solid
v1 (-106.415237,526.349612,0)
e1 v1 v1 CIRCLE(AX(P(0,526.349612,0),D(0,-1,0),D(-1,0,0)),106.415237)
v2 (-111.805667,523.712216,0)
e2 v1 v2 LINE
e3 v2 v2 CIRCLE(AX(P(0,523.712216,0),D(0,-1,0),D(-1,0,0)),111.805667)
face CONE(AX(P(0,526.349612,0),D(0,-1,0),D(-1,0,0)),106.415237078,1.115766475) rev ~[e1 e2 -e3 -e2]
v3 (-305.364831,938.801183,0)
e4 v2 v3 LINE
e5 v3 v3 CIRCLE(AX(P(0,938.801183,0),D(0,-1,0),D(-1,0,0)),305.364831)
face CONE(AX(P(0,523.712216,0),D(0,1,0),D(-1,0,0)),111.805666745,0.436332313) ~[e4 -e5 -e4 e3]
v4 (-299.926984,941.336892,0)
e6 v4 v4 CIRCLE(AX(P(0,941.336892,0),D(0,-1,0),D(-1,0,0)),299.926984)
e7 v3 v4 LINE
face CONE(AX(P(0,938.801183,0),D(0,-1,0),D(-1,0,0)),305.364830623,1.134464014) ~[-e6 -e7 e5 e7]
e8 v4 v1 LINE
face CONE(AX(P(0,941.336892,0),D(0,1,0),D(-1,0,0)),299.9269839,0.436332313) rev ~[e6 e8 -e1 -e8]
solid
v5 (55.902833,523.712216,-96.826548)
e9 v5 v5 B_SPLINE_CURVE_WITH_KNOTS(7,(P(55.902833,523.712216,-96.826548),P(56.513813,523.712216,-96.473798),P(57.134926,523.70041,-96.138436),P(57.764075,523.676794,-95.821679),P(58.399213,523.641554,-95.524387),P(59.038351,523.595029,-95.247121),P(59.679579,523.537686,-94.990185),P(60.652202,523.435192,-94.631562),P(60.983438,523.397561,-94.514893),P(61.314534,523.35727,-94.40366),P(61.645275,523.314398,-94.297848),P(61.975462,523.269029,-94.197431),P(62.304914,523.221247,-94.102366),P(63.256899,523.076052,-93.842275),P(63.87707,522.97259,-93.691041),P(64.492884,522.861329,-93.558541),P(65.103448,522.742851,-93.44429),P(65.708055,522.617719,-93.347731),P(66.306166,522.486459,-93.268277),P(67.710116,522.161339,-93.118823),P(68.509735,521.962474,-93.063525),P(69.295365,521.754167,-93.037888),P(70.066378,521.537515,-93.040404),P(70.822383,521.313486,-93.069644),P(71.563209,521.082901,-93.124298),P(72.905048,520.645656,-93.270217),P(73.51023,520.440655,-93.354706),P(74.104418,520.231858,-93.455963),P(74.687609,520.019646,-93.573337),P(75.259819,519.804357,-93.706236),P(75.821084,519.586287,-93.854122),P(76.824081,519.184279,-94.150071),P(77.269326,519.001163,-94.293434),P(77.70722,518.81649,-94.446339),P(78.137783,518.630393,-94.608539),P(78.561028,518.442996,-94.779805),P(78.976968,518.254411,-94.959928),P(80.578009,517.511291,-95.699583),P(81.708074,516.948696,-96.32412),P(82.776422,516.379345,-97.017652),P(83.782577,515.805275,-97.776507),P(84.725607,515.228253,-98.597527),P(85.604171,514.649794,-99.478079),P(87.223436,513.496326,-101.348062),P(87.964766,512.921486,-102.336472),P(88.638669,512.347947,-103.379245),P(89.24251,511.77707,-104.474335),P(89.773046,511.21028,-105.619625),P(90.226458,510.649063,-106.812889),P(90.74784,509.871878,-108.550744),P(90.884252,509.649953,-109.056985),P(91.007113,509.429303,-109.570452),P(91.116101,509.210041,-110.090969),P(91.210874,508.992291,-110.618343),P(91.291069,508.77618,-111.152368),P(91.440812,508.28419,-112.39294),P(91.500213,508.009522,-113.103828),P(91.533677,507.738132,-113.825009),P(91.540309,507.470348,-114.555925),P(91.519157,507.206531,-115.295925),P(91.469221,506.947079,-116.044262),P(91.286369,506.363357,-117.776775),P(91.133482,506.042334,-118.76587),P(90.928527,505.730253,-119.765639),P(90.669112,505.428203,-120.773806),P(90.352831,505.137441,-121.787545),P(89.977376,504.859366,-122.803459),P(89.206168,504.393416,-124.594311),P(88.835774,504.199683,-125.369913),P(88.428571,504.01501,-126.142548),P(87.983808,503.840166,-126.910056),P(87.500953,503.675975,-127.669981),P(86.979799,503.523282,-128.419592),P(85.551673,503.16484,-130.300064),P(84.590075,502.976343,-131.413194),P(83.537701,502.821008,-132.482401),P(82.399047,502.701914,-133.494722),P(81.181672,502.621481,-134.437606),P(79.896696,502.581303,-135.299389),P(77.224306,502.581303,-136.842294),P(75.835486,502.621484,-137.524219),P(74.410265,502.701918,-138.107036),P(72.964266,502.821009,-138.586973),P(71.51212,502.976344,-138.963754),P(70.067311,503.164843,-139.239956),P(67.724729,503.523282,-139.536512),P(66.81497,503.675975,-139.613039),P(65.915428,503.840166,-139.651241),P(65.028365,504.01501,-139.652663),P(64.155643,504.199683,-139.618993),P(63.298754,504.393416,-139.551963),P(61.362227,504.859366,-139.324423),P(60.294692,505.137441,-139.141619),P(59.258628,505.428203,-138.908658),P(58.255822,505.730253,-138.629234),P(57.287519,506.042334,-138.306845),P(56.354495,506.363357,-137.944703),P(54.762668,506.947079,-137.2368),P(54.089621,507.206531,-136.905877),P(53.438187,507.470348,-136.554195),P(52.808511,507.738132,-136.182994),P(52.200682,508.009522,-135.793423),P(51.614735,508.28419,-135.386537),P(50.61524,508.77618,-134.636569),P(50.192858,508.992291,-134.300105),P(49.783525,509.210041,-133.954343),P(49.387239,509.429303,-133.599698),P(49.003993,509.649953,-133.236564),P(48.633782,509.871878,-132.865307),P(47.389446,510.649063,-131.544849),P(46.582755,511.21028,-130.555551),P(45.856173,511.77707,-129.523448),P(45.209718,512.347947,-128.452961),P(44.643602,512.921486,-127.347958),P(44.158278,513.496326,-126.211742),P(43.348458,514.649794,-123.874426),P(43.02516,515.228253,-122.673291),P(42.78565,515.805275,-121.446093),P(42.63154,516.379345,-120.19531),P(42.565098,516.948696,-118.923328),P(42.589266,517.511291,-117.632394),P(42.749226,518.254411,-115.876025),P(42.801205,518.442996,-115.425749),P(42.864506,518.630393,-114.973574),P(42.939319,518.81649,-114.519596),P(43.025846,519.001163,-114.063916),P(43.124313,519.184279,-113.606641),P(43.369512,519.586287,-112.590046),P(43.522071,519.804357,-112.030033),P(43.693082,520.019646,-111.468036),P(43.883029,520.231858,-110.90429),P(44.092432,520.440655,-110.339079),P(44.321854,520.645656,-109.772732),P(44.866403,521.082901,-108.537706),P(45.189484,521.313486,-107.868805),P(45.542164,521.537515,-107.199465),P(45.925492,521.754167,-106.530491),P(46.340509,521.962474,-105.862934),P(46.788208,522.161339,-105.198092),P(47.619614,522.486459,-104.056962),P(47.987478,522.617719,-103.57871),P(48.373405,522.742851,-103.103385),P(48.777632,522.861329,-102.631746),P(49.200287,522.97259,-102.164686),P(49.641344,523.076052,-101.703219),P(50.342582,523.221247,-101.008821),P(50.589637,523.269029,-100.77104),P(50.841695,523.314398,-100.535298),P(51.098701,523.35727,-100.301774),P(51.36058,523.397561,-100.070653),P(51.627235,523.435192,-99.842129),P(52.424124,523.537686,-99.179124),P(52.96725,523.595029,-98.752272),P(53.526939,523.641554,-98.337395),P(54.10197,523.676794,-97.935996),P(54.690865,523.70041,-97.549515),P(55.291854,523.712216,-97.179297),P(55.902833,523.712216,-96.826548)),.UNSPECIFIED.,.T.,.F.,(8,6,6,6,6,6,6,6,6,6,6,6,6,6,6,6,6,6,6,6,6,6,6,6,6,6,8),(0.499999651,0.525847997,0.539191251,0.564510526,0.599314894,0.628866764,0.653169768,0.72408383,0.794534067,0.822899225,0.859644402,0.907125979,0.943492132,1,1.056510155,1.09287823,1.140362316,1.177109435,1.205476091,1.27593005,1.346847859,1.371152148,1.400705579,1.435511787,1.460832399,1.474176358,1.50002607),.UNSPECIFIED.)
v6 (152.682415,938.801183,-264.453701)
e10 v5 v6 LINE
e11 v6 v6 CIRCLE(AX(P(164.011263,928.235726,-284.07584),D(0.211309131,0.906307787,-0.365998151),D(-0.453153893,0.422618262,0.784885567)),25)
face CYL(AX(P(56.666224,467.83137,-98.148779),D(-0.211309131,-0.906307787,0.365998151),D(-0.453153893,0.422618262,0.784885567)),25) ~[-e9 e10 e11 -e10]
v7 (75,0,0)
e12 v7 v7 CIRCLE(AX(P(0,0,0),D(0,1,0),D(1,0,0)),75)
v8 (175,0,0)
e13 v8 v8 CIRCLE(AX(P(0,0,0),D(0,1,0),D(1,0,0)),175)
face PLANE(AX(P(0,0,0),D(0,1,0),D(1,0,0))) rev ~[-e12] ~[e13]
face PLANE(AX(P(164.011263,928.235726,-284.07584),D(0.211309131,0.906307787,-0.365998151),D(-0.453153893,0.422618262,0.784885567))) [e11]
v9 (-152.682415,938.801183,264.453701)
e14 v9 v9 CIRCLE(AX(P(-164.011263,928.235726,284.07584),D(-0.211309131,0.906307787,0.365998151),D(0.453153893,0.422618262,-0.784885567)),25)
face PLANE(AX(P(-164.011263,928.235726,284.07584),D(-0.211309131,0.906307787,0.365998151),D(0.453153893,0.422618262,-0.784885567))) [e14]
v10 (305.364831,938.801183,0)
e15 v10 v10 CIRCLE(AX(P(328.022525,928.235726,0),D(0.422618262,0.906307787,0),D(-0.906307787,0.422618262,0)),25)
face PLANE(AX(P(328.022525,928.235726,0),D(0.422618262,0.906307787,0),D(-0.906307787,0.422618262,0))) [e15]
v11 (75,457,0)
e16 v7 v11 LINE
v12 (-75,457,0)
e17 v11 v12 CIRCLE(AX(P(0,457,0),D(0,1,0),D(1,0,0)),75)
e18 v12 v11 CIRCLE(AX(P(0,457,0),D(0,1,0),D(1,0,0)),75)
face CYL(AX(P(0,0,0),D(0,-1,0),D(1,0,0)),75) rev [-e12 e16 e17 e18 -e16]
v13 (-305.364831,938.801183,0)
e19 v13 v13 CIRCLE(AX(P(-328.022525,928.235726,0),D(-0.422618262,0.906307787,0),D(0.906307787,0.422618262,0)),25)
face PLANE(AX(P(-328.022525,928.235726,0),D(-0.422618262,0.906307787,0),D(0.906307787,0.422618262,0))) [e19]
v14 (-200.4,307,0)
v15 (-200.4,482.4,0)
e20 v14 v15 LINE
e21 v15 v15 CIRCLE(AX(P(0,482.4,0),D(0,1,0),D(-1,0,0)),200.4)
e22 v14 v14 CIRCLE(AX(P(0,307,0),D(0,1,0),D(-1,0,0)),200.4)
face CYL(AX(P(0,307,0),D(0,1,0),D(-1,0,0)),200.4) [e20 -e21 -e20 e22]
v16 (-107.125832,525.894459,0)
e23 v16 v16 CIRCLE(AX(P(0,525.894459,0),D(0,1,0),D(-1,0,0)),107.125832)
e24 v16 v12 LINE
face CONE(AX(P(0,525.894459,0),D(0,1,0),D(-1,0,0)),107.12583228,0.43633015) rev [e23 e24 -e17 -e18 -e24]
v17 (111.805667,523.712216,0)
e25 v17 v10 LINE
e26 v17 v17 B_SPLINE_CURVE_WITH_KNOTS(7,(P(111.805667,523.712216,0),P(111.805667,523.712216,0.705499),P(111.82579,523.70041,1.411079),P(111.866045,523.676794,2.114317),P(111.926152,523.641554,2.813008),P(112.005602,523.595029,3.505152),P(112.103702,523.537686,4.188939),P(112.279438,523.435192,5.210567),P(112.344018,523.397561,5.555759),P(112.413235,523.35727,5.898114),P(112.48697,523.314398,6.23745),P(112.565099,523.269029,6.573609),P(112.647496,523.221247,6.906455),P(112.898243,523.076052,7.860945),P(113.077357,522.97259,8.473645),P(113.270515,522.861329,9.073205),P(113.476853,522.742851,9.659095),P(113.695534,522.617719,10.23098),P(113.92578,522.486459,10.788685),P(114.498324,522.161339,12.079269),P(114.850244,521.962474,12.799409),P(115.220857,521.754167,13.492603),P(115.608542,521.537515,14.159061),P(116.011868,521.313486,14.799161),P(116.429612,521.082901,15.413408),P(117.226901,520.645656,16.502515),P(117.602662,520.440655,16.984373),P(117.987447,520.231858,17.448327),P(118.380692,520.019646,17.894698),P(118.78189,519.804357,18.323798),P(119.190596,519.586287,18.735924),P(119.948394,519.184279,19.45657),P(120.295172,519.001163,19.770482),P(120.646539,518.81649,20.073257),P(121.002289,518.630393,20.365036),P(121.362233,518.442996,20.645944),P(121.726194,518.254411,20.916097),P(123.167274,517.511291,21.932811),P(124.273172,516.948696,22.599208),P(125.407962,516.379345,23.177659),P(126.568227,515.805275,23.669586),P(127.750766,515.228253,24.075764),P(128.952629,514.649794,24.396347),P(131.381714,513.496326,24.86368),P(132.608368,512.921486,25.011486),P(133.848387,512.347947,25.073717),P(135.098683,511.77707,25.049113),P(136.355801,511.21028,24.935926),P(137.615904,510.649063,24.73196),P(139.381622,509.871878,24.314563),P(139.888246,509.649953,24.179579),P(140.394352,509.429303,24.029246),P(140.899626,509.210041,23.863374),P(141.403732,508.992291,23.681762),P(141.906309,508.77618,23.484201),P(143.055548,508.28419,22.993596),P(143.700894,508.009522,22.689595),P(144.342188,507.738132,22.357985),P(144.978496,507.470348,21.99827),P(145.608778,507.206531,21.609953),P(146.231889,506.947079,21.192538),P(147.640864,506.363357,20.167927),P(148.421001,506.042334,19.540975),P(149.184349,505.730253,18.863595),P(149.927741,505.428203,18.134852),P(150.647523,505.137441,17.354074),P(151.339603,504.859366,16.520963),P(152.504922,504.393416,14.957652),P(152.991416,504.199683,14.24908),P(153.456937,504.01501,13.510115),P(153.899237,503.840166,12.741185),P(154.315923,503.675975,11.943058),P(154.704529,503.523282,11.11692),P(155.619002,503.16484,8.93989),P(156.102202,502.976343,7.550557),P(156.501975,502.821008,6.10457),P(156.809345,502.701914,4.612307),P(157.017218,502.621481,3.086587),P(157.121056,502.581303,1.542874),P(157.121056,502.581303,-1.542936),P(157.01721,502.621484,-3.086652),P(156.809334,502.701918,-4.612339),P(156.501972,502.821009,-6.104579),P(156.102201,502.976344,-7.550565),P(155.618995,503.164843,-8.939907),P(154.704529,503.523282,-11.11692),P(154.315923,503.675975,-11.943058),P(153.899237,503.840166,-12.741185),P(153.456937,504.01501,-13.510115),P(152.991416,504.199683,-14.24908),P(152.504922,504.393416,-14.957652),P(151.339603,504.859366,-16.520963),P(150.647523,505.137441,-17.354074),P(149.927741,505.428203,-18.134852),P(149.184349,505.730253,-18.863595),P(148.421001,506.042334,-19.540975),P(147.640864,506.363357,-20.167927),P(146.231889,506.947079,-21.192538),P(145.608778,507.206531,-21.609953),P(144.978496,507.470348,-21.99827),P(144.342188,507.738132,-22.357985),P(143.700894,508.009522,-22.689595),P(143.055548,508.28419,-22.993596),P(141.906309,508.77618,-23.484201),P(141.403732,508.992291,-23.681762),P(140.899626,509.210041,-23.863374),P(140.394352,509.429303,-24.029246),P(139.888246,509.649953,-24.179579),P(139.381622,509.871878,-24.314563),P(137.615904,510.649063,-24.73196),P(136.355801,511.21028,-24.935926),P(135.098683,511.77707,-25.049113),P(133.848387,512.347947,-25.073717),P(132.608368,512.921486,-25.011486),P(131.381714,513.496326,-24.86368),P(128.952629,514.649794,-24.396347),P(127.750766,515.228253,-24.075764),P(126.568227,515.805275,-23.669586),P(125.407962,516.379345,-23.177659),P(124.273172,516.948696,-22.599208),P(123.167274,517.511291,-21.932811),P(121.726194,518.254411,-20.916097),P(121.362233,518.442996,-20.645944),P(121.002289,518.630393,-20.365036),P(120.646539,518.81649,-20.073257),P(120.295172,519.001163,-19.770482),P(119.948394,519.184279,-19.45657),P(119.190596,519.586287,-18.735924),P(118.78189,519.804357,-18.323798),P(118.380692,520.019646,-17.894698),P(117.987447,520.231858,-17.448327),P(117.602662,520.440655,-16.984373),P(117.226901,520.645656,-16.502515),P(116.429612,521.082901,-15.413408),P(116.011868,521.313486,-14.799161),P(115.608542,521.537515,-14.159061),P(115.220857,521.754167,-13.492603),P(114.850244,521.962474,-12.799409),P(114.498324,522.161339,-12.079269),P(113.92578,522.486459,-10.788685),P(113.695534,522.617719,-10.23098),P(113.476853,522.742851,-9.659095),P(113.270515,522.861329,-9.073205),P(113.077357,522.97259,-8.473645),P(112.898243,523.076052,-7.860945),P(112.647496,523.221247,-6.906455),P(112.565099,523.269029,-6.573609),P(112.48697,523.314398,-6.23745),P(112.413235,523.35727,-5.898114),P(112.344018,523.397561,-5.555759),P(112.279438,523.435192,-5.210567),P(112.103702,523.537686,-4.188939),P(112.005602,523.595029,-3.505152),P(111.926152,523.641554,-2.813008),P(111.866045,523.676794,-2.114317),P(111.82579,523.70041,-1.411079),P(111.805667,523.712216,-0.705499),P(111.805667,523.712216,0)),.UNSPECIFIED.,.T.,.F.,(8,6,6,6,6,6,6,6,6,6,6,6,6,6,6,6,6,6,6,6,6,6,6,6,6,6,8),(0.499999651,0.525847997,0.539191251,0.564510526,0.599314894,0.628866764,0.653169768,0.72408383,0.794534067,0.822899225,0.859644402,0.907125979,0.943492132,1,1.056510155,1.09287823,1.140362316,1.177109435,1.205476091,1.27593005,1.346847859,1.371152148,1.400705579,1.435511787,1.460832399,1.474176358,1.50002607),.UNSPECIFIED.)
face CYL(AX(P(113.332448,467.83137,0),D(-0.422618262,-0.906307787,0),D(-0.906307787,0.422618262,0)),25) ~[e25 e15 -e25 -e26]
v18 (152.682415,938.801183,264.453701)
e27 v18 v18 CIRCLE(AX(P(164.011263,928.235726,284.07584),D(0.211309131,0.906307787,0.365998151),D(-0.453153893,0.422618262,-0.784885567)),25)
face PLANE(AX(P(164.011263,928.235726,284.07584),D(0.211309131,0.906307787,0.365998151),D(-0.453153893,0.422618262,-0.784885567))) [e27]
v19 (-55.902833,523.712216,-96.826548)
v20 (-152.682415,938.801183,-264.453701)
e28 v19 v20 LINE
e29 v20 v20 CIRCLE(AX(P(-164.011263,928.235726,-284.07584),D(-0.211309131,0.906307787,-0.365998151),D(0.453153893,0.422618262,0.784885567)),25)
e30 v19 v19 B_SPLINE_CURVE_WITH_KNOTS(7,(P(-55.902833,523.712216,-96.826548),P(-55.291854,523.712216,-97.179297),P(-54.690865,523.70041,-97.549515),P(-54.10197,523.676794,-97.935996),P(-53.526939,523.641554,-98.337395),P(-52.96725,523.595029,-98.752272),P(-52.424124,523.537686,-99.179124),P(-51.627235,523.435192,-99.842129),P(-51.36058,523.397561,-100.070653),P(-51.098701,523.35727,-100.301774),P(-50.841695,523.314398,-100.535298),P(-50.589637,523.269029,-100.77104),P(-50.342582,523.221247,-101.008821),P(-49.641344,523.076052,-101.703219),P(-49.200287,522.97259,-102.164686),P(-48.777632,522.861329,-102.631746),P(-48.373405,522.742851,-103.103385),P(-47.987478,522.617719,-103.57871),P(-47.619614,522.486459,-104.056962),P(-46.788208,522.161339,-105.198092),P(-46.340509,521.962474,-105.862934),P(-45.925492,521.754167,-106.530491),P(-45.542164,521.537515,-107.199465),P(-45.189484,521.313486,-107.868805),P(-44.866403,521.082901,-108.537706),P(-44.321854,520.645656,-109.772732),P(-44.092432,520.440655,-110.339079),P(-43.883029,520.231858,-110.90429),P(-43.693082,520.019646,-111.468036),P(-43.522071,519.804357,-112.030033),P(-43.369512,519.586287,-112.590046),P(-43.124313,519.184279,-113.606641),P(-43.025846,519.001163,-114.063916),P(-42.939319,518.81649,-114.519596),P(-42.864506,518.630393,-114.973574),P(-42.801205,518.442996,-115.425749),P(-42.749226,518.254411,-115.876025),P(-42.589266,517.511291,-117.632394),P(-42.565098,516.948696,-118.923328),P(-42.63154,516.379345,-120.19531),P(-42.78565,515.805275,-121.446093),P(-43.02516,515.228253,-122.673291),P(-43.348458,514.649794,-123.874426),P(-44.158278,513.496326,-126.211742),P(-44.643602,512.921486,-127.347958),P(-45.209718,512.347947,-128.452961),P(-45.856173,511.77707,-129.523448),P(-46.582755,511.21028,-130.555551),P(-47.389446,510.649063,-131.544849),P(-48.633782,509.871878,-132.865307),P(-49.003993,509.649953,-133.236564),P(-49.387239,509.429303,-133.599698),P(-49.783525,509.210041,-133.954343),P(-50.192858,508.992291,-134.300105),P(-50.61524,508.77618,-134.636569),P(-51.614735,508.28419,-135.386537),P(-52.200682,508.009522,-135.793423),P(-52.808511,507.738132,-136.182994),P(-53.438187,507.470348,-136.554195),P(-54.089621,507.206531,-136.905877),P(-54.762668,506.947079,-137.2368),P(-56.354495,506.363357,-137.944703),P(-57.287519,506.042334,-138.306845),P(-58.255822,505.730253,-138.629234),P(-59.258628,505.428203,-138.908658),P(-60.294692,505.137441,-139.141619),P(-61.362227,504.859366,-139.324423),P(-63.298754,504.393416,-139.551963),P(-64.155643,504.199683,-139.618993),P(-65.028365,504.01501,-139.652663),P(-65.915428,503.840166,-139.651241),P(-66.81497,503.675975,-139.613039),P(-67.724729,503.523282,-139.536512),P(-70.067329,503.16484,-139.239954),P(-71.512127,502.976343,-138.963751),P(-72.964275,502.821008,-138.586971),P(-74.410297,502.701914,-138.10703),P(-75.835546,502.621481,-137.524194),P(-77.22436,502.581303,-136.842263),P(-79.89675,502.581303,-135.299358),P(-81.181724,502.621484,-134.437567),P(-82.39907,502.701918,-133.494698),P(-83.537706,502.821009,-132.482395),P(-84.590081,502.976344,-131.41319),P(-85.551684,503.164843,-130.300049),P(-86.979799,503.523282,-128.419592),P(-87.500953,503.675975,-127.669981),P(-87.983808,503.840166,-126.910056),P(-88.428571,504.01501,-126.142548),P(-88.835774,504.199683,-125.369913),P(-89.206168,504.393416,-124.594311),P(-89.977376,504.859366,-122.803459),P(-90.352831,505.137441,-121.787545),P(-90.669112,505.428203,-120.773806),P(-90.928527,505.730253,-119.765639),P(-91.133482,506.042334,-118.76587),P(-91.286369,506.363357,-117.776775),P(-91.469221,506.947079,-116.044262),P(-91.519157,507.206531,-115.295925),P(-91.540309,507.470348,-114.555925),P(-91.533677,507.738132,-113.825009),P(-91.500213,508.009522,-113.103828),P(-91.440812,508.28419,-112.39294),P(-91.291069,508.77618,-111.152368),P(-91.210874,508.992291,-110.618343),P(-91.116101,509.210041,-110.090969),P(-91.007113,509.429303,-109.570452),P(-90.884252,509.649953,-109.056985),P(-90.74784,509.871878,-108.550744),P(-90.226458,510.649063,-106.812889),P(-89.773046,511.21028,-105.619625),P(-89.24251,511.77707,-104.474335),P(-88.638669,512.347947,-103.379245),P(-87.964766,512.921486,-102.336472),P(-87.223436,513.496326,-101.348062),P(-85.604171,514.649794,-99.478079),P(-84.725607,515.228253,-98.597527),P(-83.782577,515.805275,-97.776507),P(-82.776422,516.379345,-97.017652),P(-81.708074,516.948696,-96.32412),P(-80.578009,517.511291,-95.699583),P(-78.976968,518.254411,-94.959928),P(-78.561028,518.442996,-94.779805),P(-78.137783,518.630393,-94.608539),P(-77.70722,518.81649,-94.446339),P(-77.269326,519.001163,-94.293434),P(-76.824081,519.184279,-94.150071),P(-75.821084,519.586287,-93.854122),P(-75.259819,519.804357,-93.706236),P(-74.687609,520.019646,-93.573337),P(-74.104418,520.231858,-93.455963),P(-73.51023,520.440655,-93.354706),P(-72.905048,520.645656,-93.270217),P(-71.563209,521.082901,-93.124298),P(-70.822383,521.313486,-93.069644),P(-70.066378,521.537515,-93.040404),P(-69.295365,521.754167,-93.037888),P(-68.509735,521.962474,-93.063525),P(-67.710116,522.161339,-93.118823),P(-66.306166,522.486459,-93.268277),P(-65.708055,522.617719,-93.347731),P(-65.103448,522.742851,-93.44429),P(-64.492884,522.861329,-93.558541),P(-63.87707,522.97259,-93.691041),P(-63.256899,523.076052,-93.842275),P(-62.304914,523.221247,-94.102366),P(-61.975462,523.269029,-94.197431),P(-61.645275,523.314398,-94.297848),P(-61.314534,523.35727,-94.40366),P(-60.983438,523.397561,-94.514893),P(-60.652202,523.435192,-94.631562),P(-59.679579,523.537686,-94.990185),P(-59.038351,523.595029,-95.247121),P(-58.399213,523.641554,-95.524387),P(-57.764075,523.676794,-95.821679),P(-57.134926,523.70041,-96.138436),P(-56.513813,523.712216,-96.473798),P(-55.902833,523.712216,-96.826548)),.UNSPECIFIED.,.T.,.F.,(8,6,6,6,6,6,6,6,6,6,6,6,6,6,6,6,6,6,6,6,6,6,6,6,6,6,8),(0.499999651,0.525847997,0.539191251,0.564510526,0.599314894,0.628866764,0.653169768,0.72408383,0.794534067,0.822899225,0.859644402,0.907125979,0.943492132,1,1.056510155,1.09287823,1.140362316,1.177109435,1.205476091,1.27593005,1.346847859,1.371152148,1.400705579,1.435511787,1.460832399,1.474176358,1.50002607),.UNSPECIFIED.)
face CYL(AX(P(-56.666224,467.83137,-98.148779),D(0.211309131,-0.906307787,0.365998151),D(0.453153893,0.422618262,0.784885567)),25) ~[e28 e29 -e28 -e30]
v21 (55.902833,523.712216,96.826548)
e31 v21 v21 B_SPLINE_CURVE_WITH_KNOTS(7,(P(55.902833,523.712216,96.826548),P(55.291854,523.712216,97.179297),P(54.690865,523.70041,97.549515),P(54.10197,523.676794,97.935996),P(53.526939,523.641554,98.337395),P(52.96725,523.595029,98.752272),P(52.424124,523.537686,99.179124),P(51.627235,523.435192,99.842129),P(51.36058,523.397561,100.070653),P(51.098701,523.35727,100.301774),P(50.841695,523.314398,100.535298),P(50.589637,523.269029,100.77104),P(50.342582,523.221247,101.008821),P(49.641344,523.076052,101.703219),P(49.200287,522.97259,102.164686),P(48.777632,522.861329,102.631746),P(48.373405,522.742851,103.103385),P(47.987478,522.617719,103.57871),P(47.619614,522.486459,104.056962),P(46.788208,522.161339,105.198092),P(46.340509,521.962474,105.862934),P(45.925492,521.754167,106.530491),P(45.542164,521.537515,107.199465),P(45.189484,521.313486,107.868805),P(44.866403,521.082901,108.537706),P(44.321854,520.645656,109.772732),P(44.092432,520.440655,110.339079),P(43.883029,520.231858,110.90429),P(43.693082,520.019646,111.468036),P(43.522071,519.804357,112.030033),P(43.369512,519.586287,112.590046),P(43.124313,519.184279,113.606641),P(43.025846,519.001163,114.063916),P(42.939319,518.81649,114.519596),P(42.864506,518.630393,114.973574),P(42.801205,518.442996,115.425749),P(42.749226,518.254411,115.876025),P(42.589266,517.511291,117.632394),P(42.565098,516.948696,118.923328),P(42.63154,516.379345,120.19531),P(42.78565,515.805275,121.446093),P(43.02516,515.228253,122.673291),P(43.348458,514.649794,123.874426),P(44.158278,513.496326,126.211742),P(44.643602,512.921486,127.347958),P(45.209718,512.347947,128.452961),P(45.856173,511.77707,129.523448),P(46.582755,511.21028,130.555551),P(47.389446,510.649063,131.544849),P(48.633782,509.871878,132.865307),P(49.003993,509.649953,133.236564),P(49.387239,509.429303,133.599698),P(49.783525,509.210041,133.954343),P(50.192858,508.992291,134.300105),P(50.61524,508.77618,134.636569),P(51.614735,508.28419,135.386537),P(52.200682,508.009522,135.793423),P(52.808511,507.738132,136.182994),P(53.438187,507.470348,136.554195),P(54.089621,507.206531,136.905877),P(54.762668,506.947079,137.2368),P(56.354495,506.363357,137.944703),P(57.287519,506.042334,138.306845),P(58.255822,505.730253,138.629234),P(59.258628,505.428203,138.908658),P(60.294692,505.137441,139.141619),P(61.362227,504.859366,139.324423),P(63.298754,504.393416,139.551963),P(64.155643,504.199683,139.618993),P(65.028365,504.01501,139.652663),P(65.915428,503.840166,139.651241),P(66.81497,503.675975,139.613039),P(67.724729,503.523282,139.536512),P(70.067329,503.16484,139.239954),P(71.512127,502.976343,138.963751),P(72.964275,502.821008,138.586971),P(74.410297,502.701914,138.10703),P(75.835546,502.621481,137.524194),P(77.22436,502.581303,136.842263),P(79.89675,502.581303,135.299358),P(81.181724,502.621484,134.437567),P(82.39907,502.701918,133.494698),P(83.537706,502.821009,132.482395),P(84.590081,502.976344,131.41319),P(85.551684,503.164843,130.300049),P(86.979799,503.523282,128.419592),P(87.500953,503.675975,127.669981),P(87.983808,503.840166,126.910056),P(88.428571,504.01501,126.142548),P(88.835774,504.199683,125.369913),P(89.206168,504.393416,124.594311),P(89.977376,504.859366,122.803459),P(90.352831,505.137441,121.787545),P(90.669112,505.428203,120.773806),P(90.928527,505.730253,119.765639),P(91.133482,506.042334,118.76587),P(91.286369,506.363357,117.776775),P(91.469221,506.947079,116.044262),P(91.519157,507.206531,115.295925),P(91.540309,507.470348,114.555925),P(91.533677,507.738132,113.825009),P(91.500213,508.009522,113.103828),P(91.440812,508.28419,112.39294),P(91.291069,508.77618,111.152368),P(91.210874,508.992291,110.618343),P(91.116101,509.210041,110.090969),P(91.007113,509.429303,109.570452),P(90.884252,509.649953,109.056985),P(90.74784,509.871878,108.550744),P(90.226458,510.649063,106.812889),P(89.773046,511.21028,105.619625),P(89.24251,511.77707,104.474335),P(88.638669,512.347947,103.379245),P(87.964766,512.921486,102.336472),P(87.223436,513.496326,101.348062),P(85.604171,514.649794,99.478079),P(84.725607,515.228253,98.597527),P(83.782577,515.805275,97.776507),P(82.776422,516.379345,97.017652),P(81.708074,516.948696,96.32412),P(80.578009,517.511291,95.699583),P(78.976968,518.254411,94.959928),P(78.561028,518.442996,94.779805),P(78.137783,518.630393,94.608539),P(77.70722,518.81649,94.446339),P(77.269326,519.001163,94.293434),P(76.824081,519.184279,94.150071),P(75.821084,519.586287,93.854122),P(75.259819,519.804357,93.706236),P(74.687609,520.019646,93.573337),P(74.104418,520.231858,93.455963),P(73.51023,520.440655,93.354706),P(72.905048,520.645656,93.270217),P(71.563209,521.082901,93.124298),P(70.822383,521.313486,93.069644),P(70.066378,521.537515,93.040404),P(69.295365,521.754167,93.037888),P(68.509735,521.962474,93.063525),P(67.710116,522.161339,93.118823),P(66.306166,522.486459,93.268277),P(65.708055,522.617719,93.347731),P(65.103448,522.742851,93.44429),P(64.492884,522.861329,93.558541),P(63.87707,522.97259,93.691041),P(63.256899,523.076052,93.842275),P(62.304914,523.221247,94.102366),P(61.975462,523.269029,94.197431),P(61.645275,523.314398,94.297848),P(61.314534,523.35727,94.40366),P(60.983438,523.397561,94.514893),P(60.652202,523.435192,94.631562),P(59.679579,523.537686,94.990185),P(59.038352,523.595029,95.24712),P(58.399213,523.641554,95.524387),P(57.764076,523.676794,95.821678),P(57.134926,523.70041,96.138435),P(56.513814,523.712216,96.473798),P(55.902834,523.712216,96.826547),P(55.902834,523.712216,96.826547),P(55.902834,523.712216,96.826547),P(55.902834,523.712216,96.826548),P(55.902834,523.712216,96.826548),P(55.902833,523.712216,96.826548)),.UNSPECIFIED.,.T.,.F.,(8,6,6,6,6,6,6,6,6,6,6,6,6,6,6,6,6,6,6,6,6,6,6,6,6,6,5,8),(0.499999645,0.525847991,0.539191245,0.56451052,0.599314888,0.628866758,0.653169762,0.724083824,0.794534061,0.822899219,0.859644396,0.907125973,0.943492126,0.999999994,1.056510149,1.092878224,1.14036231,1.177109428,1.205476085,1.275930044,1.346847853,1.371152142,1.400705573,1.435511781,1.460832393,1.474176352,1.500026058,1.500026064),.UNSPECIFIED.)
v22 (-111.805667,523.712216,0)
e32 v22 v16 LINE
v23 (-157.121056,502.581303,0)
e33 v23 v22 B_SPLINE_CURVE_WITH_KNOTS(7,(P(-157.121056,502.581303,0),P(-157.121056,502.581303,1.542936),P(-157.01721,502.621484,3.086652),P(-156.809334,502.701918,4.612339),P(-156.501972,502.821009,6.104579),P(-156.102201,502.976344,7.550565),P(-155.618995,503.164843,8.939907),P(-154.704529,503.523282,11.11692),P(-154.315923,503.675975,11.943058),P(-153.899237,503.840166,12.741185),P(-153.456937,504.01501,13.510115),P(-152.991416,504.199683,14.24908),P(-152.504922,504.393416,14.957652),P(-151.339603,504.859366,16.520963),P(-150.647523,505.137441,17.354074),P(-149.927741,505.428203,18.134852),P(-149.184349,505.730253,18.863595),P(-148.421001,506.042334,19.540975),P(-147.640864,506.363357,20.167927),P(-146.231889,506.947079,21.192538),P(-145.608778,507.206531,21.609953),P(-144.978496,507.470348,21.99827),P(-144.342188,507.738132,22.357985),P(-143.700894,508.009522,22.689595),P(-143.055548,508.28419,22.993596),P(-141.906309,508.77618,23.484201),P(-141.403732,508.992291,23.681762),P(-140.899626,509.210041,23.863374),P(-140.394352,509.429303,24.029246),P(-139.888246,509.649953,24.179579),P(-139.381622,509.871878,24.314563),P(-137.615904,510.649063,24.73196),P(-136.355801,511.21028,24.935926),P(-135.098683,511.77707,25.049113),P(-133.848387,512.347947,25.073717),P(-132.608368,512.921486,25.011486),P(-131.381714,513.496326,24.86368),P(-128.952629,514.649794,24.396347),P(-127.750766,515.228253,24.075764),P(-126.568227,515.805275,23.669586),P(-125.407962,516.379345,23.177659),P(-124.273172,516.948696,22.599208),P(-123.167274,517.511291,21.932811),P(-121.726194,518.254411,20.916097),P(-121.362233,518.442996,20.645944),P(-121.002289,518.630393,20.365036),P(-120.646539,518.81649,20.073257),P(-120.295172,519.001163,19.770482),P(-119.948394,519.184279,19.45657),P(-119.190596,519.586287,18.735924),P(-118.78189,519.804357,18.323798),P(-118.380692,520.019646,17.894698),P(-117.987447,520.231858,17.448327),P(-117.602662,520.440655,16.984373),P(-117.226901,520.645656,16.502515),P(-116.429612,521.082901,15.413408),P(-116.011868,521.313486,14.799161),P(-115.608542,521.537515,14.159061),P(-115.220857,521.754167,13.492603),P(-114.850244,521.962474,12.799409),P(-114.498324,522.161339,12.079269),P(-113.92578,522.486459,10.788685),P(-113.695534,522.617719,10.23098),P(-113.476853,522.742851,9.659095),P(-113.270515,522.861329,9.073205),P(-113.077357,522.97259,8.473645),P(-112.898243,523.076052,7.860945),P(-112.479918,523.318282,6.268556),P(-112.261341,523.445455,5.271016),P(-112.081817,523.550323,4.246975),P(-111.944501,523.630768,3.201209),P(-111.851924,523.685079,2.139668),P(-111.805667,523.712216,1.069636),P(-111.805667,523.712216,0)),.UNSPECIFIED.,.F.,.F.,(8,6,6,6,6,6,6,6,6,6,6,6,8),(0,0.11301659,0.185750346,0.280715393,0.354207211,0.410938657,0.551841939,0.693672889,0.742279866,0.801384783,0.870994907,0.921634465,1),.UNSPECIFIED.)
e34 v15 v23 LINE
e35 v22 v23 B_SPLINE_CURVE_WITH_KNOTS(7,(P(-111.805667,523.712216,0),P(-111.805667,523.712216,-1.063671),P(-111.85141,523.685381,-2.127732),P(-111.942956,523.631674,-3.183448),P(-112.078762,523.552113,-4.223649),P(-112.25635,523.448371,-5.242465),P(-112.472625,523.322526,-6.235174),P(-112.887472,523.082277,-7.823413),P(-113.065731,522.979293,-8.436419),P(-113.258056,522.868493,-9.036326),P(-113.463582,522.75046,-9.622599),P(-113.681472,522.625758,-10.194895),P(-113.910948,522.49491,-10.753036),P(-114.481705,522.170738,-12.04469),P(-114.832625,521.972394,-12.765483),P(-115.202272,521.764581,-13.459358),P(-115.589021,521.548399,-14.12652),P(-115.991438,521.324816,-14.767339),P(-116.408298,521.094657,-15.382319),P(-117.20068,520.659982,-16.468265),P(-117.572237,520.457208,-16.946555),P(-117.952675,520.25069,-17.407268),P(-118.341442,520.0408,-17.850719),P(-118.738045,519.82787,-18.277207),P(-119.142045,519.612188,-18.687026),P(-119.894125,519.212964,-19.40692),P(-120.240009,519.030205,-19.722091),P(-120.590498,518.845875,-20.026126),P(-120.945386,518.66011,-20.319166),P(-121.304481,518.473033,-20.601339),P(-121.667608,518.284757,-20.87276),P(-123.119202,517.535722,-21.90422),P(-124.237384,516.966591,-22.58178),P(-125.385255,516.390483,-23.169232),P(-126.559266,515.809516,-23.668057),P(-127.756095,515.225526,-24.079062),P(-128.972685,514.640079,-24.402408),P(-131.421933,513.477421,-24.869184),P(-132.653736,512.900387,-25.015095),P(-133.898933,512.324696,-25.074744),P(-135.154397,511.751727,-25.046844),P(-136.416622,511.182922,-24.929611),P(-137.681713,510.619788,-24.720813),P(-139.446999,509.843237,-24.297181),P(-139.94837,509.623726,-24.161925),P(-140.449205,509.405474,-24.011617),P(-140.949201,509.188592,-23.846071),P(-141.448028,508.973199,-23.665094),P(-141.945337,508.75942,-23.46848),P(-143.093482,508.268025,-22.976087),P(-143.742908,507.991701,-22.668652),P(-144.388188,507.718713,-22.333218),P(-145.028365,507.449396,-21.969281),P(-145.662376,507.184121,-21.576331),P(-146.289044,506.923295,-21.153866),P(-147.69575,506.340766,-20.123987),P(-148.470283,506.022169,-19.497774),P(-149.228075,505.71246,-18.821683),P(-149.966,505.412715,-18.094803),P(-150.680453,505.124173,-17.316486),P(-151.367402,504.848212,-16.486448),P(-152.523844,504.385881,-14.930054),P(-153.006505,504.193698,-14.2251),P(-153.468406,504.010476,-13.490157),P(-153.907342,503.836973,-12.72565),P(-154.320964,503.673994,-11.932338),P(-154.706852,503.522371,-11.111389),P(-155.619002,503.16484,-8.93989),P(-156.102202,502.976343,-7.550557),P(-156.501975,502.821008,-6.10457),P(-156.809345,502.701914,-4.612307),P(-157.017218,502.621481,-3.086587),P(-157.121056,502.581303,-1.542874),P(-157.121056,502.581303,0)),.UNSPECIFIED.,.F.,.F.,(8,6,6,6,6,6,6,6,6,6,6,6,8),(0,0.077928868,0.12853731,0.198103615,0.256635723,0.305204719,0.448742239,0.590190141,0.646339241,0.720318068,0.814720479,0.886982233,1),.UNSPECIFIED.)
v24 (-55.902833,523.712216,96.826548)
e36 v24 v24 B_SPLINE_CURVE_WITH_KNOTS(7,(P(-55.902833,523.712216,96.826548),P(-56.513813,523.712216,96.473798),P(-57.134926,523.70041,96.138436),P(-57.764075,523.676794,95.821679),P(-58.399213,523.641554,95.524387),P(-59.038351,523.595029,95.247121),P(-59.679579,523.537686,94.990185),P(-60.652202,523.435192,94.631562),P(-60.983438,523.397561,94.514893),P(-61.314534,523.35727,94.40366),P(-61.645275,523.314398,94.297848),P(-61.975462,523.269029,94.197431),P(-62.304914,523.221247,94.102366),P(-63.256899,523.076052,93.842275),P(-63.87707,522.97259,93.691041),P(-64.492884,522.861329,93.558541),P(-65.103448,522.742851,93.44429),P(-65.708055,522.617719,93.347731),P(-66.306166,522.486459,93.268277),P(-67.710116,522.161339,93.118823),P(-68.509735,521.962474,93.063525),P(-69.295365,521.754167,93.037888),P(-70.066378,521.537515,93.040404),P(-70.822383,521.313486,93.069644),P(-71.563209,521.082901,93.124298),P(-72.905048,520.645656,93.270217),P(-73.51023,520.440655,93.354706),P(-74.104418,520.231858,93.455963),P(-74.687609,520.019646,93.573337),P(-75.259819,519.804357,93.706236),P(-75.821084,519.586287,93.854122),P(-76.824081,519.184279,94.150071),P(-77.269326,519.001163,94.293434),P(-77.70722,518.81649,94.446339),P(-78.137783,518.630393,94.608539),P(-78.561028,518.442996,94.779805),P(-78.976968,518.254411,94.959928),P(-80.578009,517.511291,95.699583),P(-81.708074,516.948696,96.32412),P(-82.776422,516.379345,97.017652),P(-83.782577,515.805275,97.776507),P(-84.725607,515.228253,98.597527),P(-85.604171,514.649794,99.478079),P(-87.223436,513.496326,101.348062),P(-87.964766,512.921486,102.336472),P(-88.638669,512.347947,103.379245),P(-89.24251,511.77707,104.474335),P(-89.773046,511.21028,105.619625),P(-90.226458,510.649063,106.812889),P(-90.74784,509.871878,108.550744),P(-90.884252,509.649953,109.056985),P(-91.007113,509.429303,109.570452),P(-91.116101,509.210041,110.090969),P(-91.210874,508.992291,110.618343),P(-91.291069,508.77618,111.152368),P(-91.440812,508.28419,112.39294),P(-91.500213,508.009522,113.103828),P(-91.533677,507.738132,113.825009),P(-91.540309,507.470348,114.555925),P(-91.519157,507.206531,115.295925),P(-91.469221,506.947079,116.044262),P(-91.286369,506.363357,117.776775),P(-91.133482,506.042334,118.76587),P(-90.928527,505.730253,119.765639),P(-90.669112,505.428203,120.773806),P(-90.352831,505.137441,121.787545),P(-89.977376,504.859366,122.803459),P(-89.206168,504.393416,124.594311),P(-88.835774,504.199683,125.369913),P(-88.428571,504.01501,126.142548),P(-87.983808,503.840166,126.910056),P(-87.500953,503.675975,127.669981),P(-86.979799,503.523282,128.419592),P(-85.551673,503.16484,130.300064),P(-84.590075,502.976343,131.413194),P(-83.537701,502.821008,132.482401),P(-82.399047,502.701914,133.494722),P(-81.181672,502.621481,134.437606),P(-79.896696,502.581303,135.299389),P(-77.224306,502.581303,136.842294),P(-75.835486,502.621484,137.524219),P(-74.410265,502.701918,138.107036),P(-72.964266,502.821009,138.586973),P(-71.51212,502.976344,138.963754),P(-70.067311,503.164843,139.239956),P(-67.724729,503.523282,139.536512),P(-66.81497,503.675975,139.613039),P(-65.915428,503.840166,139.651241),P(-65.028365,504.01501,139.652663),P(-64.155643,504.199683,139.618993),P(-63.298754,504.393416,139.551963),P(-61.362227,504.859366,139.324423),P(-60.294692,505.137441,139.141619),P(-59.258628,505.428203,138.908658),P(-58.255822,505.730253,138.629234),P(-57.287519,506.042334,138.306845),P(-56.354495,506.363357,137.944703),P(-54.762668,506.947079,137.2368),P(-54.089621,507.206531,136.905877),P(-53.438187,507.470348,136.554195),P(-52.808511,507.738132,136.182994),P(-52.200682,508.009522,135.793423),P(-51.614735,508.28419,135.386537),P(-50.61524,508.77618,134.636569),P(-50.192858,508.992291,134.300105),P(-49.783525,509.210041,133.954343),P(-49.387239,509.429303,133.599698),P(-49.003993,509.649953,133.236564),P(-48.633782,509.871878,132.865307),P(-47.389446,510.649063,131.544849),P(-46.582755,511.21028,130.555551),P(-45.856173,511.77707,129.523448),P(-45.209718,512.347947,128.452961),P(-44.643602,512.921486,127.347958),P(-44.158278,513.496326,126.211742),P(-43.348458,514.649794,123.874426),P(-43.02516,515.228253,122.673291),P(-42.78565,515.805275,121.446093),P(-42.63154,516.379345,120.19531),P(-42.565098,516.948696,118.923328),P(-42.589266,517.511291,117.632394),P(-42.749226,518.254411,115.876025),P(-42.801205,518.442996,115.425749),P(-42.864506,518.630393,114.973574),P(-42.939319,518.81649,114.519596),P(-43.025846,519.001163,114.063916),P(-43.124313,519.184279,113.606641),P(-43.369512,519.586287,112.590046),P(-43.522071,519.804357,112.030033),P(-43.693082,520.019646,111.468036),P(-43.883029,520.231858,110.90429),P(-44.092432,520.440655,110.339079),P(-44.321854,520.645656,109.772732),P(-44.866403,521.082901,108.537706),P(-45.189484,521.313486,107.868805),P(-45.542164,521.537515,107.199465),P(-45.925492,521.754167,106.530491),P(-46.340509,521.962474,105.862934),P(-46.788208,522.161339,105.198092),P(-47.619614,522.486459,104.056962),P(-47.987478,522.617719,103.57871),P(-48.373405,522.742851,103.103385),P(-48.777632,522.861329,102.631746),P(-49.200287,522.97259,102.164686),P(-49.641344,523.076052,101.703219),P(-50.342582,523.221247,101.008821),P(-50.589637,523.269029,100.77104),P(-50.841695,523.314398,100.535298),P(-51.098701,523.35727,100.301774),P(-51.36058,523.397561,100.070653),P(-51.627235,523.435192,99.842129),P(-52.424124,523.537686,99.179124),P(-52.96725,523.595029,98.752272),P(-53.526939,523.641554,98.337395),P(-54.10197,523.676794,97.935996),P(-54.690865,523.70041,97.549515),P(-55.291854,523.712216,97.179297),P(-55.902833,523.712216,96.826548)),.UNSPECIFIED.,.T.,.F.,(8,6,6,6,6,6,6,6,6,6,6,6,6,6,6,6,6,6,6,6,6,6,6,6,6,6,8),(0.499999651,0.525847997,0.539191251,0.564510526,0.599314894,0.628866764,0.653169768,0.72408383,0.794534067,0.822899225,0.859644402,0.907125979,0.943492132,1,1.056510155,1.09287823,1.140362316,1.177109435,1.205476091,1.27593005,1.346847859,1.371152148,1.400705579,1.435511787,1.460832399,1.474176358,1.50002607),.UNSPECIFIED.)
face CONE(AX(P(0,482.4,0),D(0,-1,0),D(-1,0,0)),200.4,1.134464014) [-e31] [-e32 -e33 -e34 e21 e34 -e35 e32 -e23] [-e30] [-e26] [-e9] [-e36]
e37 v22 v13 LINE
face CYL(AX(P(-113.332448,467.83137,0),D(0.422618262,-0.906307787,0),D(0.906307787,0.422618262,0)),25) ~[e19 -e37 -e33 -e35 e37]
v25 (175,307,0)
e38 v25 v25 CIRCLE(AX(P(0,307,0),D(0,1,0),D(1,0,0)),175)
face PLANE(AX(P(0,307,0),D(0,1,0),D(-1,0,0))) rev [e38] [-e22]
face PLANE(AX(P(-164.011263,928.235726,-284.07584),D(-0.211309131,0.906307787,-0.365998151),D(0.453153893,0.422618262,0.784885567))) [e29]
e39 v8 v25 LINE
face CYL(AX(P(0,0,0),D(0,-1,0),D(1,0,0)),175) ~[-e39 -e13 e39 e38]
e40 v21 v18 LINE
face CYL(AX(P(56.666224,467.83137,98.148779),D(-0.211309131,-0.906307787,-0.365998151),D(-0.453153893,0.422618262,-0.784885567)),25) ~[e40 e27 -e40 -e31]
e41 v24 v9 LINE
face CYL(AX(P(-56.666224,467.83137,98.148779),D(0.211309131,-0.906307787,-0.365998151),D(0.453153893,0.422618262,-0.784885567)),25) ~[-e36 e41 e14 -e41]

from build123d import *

# Parameters (mm, degrees)
SKETCH1_R           = 175
SKETCH1_R_2         = 75
BOSS_EXTRUDE1_DEPTH = 457
SKETCH3_R           = 25
CUT_EXTRUDE1_DEPTH  = 50
CIRPATTERN1_COUNT   = 6
SKETCH4_R           = 25
BOSS_EXTRUDE2_DEPTH = 508
CIRPATTERN2_COUNT   = 6


with BuildPart() as part:
    # Sketch1 → Boss-Extrude1 (new body)
    with BuildSketch(Plane(origin=(0, 0, 0), x_dir=(1, 0, 0), z_dir=(0, 1, 0))):
        Circle(SKETCH1_R)
        Circle(SKETCH1_R_2, mode=Mode.SUBTRACT)
    extrude(amount=BOSS_EXTRUDE1_DEPTH)

    # Sketch2 → Revolve1 (revolve)
    with BuildSketch(Plane.XY):
        Polygon((-175, 307), (-200.4, 307), (-200.4, 482.4), (-107.12583228, 525.894458716), (-75, 457), (-175, 457), align=None)
    revolve(axis=Axis((0, 0, 0), (0, 1, 0)))

    # Sketch3 → Cut-Extrude1 (cut)
    with BuildSketch(Plane(origin=(220.56260119, 472.998024657, 0), x_dir=(0.906307787, -0.422618262, 0), z_dir=(0.422618262, 0.906307787, 0))):
        with Locations((-95, 0)):
            Circle(SKETCH3_R)
    cut_extrude1 = extrude(amount=-CUT_EXTRUDE1_DEPTH, mode=Mode.SUBTRACT)

    # CirPattern1: Cut-Extrude1 ×6 about axis
    cirpattern1_axis = Axis((0, 0, 0), (0, 1, 0))
    for i in range(1, CIRPATTERN1_COUNT):
        add(cut_extrude1.rotate(cirpattern1_axis, i * 360 / CIRPATTERN1_COUNT), mode=Mode.SUBTRACT)

    # Sketch4 → Boss-Extrude2 (add)
    with BuildSketch(Plane(origin=(-199.431688103, 427.682635305, 0), x_dir=(0.906307787, 0.422618262, 0), z_dir=(-0.422618262, 0.906307787, 0))):
        with Locations((95, 0)):
            Circle(SKETCH4_R)
    boss_extrude2 = extrude(amount=BOSS_EXTRUDE2_DEPTH)

    # CirPattern2: Boss-Extrude2 ×6 about axis
    cirpattern2_axis = Axis((0, 0, 0), (0, 1, 0))
    for i in range(1, CIRPATTERN2_COUNT):
        add(boss_extrude2.rotate(cirpattern2_axis, i * 360 / CIRPATTERN2_COUNT))


with BuildPart() as body_2:
    # Sketch7 → Revolve2 (revolve)
    with BuildSketch(Plane.XY):
        Polygon((-111.805666745, 523.712216066), (-305.364830623, 938.801182529), (-299.9269839, 941.336892099), (-106.415237078, 526.349611839), align=None)
    revolve(axis=Axis((0, 457, 0), (0, -1, 0)))


solid = Compound([part.part, body_2.part])
